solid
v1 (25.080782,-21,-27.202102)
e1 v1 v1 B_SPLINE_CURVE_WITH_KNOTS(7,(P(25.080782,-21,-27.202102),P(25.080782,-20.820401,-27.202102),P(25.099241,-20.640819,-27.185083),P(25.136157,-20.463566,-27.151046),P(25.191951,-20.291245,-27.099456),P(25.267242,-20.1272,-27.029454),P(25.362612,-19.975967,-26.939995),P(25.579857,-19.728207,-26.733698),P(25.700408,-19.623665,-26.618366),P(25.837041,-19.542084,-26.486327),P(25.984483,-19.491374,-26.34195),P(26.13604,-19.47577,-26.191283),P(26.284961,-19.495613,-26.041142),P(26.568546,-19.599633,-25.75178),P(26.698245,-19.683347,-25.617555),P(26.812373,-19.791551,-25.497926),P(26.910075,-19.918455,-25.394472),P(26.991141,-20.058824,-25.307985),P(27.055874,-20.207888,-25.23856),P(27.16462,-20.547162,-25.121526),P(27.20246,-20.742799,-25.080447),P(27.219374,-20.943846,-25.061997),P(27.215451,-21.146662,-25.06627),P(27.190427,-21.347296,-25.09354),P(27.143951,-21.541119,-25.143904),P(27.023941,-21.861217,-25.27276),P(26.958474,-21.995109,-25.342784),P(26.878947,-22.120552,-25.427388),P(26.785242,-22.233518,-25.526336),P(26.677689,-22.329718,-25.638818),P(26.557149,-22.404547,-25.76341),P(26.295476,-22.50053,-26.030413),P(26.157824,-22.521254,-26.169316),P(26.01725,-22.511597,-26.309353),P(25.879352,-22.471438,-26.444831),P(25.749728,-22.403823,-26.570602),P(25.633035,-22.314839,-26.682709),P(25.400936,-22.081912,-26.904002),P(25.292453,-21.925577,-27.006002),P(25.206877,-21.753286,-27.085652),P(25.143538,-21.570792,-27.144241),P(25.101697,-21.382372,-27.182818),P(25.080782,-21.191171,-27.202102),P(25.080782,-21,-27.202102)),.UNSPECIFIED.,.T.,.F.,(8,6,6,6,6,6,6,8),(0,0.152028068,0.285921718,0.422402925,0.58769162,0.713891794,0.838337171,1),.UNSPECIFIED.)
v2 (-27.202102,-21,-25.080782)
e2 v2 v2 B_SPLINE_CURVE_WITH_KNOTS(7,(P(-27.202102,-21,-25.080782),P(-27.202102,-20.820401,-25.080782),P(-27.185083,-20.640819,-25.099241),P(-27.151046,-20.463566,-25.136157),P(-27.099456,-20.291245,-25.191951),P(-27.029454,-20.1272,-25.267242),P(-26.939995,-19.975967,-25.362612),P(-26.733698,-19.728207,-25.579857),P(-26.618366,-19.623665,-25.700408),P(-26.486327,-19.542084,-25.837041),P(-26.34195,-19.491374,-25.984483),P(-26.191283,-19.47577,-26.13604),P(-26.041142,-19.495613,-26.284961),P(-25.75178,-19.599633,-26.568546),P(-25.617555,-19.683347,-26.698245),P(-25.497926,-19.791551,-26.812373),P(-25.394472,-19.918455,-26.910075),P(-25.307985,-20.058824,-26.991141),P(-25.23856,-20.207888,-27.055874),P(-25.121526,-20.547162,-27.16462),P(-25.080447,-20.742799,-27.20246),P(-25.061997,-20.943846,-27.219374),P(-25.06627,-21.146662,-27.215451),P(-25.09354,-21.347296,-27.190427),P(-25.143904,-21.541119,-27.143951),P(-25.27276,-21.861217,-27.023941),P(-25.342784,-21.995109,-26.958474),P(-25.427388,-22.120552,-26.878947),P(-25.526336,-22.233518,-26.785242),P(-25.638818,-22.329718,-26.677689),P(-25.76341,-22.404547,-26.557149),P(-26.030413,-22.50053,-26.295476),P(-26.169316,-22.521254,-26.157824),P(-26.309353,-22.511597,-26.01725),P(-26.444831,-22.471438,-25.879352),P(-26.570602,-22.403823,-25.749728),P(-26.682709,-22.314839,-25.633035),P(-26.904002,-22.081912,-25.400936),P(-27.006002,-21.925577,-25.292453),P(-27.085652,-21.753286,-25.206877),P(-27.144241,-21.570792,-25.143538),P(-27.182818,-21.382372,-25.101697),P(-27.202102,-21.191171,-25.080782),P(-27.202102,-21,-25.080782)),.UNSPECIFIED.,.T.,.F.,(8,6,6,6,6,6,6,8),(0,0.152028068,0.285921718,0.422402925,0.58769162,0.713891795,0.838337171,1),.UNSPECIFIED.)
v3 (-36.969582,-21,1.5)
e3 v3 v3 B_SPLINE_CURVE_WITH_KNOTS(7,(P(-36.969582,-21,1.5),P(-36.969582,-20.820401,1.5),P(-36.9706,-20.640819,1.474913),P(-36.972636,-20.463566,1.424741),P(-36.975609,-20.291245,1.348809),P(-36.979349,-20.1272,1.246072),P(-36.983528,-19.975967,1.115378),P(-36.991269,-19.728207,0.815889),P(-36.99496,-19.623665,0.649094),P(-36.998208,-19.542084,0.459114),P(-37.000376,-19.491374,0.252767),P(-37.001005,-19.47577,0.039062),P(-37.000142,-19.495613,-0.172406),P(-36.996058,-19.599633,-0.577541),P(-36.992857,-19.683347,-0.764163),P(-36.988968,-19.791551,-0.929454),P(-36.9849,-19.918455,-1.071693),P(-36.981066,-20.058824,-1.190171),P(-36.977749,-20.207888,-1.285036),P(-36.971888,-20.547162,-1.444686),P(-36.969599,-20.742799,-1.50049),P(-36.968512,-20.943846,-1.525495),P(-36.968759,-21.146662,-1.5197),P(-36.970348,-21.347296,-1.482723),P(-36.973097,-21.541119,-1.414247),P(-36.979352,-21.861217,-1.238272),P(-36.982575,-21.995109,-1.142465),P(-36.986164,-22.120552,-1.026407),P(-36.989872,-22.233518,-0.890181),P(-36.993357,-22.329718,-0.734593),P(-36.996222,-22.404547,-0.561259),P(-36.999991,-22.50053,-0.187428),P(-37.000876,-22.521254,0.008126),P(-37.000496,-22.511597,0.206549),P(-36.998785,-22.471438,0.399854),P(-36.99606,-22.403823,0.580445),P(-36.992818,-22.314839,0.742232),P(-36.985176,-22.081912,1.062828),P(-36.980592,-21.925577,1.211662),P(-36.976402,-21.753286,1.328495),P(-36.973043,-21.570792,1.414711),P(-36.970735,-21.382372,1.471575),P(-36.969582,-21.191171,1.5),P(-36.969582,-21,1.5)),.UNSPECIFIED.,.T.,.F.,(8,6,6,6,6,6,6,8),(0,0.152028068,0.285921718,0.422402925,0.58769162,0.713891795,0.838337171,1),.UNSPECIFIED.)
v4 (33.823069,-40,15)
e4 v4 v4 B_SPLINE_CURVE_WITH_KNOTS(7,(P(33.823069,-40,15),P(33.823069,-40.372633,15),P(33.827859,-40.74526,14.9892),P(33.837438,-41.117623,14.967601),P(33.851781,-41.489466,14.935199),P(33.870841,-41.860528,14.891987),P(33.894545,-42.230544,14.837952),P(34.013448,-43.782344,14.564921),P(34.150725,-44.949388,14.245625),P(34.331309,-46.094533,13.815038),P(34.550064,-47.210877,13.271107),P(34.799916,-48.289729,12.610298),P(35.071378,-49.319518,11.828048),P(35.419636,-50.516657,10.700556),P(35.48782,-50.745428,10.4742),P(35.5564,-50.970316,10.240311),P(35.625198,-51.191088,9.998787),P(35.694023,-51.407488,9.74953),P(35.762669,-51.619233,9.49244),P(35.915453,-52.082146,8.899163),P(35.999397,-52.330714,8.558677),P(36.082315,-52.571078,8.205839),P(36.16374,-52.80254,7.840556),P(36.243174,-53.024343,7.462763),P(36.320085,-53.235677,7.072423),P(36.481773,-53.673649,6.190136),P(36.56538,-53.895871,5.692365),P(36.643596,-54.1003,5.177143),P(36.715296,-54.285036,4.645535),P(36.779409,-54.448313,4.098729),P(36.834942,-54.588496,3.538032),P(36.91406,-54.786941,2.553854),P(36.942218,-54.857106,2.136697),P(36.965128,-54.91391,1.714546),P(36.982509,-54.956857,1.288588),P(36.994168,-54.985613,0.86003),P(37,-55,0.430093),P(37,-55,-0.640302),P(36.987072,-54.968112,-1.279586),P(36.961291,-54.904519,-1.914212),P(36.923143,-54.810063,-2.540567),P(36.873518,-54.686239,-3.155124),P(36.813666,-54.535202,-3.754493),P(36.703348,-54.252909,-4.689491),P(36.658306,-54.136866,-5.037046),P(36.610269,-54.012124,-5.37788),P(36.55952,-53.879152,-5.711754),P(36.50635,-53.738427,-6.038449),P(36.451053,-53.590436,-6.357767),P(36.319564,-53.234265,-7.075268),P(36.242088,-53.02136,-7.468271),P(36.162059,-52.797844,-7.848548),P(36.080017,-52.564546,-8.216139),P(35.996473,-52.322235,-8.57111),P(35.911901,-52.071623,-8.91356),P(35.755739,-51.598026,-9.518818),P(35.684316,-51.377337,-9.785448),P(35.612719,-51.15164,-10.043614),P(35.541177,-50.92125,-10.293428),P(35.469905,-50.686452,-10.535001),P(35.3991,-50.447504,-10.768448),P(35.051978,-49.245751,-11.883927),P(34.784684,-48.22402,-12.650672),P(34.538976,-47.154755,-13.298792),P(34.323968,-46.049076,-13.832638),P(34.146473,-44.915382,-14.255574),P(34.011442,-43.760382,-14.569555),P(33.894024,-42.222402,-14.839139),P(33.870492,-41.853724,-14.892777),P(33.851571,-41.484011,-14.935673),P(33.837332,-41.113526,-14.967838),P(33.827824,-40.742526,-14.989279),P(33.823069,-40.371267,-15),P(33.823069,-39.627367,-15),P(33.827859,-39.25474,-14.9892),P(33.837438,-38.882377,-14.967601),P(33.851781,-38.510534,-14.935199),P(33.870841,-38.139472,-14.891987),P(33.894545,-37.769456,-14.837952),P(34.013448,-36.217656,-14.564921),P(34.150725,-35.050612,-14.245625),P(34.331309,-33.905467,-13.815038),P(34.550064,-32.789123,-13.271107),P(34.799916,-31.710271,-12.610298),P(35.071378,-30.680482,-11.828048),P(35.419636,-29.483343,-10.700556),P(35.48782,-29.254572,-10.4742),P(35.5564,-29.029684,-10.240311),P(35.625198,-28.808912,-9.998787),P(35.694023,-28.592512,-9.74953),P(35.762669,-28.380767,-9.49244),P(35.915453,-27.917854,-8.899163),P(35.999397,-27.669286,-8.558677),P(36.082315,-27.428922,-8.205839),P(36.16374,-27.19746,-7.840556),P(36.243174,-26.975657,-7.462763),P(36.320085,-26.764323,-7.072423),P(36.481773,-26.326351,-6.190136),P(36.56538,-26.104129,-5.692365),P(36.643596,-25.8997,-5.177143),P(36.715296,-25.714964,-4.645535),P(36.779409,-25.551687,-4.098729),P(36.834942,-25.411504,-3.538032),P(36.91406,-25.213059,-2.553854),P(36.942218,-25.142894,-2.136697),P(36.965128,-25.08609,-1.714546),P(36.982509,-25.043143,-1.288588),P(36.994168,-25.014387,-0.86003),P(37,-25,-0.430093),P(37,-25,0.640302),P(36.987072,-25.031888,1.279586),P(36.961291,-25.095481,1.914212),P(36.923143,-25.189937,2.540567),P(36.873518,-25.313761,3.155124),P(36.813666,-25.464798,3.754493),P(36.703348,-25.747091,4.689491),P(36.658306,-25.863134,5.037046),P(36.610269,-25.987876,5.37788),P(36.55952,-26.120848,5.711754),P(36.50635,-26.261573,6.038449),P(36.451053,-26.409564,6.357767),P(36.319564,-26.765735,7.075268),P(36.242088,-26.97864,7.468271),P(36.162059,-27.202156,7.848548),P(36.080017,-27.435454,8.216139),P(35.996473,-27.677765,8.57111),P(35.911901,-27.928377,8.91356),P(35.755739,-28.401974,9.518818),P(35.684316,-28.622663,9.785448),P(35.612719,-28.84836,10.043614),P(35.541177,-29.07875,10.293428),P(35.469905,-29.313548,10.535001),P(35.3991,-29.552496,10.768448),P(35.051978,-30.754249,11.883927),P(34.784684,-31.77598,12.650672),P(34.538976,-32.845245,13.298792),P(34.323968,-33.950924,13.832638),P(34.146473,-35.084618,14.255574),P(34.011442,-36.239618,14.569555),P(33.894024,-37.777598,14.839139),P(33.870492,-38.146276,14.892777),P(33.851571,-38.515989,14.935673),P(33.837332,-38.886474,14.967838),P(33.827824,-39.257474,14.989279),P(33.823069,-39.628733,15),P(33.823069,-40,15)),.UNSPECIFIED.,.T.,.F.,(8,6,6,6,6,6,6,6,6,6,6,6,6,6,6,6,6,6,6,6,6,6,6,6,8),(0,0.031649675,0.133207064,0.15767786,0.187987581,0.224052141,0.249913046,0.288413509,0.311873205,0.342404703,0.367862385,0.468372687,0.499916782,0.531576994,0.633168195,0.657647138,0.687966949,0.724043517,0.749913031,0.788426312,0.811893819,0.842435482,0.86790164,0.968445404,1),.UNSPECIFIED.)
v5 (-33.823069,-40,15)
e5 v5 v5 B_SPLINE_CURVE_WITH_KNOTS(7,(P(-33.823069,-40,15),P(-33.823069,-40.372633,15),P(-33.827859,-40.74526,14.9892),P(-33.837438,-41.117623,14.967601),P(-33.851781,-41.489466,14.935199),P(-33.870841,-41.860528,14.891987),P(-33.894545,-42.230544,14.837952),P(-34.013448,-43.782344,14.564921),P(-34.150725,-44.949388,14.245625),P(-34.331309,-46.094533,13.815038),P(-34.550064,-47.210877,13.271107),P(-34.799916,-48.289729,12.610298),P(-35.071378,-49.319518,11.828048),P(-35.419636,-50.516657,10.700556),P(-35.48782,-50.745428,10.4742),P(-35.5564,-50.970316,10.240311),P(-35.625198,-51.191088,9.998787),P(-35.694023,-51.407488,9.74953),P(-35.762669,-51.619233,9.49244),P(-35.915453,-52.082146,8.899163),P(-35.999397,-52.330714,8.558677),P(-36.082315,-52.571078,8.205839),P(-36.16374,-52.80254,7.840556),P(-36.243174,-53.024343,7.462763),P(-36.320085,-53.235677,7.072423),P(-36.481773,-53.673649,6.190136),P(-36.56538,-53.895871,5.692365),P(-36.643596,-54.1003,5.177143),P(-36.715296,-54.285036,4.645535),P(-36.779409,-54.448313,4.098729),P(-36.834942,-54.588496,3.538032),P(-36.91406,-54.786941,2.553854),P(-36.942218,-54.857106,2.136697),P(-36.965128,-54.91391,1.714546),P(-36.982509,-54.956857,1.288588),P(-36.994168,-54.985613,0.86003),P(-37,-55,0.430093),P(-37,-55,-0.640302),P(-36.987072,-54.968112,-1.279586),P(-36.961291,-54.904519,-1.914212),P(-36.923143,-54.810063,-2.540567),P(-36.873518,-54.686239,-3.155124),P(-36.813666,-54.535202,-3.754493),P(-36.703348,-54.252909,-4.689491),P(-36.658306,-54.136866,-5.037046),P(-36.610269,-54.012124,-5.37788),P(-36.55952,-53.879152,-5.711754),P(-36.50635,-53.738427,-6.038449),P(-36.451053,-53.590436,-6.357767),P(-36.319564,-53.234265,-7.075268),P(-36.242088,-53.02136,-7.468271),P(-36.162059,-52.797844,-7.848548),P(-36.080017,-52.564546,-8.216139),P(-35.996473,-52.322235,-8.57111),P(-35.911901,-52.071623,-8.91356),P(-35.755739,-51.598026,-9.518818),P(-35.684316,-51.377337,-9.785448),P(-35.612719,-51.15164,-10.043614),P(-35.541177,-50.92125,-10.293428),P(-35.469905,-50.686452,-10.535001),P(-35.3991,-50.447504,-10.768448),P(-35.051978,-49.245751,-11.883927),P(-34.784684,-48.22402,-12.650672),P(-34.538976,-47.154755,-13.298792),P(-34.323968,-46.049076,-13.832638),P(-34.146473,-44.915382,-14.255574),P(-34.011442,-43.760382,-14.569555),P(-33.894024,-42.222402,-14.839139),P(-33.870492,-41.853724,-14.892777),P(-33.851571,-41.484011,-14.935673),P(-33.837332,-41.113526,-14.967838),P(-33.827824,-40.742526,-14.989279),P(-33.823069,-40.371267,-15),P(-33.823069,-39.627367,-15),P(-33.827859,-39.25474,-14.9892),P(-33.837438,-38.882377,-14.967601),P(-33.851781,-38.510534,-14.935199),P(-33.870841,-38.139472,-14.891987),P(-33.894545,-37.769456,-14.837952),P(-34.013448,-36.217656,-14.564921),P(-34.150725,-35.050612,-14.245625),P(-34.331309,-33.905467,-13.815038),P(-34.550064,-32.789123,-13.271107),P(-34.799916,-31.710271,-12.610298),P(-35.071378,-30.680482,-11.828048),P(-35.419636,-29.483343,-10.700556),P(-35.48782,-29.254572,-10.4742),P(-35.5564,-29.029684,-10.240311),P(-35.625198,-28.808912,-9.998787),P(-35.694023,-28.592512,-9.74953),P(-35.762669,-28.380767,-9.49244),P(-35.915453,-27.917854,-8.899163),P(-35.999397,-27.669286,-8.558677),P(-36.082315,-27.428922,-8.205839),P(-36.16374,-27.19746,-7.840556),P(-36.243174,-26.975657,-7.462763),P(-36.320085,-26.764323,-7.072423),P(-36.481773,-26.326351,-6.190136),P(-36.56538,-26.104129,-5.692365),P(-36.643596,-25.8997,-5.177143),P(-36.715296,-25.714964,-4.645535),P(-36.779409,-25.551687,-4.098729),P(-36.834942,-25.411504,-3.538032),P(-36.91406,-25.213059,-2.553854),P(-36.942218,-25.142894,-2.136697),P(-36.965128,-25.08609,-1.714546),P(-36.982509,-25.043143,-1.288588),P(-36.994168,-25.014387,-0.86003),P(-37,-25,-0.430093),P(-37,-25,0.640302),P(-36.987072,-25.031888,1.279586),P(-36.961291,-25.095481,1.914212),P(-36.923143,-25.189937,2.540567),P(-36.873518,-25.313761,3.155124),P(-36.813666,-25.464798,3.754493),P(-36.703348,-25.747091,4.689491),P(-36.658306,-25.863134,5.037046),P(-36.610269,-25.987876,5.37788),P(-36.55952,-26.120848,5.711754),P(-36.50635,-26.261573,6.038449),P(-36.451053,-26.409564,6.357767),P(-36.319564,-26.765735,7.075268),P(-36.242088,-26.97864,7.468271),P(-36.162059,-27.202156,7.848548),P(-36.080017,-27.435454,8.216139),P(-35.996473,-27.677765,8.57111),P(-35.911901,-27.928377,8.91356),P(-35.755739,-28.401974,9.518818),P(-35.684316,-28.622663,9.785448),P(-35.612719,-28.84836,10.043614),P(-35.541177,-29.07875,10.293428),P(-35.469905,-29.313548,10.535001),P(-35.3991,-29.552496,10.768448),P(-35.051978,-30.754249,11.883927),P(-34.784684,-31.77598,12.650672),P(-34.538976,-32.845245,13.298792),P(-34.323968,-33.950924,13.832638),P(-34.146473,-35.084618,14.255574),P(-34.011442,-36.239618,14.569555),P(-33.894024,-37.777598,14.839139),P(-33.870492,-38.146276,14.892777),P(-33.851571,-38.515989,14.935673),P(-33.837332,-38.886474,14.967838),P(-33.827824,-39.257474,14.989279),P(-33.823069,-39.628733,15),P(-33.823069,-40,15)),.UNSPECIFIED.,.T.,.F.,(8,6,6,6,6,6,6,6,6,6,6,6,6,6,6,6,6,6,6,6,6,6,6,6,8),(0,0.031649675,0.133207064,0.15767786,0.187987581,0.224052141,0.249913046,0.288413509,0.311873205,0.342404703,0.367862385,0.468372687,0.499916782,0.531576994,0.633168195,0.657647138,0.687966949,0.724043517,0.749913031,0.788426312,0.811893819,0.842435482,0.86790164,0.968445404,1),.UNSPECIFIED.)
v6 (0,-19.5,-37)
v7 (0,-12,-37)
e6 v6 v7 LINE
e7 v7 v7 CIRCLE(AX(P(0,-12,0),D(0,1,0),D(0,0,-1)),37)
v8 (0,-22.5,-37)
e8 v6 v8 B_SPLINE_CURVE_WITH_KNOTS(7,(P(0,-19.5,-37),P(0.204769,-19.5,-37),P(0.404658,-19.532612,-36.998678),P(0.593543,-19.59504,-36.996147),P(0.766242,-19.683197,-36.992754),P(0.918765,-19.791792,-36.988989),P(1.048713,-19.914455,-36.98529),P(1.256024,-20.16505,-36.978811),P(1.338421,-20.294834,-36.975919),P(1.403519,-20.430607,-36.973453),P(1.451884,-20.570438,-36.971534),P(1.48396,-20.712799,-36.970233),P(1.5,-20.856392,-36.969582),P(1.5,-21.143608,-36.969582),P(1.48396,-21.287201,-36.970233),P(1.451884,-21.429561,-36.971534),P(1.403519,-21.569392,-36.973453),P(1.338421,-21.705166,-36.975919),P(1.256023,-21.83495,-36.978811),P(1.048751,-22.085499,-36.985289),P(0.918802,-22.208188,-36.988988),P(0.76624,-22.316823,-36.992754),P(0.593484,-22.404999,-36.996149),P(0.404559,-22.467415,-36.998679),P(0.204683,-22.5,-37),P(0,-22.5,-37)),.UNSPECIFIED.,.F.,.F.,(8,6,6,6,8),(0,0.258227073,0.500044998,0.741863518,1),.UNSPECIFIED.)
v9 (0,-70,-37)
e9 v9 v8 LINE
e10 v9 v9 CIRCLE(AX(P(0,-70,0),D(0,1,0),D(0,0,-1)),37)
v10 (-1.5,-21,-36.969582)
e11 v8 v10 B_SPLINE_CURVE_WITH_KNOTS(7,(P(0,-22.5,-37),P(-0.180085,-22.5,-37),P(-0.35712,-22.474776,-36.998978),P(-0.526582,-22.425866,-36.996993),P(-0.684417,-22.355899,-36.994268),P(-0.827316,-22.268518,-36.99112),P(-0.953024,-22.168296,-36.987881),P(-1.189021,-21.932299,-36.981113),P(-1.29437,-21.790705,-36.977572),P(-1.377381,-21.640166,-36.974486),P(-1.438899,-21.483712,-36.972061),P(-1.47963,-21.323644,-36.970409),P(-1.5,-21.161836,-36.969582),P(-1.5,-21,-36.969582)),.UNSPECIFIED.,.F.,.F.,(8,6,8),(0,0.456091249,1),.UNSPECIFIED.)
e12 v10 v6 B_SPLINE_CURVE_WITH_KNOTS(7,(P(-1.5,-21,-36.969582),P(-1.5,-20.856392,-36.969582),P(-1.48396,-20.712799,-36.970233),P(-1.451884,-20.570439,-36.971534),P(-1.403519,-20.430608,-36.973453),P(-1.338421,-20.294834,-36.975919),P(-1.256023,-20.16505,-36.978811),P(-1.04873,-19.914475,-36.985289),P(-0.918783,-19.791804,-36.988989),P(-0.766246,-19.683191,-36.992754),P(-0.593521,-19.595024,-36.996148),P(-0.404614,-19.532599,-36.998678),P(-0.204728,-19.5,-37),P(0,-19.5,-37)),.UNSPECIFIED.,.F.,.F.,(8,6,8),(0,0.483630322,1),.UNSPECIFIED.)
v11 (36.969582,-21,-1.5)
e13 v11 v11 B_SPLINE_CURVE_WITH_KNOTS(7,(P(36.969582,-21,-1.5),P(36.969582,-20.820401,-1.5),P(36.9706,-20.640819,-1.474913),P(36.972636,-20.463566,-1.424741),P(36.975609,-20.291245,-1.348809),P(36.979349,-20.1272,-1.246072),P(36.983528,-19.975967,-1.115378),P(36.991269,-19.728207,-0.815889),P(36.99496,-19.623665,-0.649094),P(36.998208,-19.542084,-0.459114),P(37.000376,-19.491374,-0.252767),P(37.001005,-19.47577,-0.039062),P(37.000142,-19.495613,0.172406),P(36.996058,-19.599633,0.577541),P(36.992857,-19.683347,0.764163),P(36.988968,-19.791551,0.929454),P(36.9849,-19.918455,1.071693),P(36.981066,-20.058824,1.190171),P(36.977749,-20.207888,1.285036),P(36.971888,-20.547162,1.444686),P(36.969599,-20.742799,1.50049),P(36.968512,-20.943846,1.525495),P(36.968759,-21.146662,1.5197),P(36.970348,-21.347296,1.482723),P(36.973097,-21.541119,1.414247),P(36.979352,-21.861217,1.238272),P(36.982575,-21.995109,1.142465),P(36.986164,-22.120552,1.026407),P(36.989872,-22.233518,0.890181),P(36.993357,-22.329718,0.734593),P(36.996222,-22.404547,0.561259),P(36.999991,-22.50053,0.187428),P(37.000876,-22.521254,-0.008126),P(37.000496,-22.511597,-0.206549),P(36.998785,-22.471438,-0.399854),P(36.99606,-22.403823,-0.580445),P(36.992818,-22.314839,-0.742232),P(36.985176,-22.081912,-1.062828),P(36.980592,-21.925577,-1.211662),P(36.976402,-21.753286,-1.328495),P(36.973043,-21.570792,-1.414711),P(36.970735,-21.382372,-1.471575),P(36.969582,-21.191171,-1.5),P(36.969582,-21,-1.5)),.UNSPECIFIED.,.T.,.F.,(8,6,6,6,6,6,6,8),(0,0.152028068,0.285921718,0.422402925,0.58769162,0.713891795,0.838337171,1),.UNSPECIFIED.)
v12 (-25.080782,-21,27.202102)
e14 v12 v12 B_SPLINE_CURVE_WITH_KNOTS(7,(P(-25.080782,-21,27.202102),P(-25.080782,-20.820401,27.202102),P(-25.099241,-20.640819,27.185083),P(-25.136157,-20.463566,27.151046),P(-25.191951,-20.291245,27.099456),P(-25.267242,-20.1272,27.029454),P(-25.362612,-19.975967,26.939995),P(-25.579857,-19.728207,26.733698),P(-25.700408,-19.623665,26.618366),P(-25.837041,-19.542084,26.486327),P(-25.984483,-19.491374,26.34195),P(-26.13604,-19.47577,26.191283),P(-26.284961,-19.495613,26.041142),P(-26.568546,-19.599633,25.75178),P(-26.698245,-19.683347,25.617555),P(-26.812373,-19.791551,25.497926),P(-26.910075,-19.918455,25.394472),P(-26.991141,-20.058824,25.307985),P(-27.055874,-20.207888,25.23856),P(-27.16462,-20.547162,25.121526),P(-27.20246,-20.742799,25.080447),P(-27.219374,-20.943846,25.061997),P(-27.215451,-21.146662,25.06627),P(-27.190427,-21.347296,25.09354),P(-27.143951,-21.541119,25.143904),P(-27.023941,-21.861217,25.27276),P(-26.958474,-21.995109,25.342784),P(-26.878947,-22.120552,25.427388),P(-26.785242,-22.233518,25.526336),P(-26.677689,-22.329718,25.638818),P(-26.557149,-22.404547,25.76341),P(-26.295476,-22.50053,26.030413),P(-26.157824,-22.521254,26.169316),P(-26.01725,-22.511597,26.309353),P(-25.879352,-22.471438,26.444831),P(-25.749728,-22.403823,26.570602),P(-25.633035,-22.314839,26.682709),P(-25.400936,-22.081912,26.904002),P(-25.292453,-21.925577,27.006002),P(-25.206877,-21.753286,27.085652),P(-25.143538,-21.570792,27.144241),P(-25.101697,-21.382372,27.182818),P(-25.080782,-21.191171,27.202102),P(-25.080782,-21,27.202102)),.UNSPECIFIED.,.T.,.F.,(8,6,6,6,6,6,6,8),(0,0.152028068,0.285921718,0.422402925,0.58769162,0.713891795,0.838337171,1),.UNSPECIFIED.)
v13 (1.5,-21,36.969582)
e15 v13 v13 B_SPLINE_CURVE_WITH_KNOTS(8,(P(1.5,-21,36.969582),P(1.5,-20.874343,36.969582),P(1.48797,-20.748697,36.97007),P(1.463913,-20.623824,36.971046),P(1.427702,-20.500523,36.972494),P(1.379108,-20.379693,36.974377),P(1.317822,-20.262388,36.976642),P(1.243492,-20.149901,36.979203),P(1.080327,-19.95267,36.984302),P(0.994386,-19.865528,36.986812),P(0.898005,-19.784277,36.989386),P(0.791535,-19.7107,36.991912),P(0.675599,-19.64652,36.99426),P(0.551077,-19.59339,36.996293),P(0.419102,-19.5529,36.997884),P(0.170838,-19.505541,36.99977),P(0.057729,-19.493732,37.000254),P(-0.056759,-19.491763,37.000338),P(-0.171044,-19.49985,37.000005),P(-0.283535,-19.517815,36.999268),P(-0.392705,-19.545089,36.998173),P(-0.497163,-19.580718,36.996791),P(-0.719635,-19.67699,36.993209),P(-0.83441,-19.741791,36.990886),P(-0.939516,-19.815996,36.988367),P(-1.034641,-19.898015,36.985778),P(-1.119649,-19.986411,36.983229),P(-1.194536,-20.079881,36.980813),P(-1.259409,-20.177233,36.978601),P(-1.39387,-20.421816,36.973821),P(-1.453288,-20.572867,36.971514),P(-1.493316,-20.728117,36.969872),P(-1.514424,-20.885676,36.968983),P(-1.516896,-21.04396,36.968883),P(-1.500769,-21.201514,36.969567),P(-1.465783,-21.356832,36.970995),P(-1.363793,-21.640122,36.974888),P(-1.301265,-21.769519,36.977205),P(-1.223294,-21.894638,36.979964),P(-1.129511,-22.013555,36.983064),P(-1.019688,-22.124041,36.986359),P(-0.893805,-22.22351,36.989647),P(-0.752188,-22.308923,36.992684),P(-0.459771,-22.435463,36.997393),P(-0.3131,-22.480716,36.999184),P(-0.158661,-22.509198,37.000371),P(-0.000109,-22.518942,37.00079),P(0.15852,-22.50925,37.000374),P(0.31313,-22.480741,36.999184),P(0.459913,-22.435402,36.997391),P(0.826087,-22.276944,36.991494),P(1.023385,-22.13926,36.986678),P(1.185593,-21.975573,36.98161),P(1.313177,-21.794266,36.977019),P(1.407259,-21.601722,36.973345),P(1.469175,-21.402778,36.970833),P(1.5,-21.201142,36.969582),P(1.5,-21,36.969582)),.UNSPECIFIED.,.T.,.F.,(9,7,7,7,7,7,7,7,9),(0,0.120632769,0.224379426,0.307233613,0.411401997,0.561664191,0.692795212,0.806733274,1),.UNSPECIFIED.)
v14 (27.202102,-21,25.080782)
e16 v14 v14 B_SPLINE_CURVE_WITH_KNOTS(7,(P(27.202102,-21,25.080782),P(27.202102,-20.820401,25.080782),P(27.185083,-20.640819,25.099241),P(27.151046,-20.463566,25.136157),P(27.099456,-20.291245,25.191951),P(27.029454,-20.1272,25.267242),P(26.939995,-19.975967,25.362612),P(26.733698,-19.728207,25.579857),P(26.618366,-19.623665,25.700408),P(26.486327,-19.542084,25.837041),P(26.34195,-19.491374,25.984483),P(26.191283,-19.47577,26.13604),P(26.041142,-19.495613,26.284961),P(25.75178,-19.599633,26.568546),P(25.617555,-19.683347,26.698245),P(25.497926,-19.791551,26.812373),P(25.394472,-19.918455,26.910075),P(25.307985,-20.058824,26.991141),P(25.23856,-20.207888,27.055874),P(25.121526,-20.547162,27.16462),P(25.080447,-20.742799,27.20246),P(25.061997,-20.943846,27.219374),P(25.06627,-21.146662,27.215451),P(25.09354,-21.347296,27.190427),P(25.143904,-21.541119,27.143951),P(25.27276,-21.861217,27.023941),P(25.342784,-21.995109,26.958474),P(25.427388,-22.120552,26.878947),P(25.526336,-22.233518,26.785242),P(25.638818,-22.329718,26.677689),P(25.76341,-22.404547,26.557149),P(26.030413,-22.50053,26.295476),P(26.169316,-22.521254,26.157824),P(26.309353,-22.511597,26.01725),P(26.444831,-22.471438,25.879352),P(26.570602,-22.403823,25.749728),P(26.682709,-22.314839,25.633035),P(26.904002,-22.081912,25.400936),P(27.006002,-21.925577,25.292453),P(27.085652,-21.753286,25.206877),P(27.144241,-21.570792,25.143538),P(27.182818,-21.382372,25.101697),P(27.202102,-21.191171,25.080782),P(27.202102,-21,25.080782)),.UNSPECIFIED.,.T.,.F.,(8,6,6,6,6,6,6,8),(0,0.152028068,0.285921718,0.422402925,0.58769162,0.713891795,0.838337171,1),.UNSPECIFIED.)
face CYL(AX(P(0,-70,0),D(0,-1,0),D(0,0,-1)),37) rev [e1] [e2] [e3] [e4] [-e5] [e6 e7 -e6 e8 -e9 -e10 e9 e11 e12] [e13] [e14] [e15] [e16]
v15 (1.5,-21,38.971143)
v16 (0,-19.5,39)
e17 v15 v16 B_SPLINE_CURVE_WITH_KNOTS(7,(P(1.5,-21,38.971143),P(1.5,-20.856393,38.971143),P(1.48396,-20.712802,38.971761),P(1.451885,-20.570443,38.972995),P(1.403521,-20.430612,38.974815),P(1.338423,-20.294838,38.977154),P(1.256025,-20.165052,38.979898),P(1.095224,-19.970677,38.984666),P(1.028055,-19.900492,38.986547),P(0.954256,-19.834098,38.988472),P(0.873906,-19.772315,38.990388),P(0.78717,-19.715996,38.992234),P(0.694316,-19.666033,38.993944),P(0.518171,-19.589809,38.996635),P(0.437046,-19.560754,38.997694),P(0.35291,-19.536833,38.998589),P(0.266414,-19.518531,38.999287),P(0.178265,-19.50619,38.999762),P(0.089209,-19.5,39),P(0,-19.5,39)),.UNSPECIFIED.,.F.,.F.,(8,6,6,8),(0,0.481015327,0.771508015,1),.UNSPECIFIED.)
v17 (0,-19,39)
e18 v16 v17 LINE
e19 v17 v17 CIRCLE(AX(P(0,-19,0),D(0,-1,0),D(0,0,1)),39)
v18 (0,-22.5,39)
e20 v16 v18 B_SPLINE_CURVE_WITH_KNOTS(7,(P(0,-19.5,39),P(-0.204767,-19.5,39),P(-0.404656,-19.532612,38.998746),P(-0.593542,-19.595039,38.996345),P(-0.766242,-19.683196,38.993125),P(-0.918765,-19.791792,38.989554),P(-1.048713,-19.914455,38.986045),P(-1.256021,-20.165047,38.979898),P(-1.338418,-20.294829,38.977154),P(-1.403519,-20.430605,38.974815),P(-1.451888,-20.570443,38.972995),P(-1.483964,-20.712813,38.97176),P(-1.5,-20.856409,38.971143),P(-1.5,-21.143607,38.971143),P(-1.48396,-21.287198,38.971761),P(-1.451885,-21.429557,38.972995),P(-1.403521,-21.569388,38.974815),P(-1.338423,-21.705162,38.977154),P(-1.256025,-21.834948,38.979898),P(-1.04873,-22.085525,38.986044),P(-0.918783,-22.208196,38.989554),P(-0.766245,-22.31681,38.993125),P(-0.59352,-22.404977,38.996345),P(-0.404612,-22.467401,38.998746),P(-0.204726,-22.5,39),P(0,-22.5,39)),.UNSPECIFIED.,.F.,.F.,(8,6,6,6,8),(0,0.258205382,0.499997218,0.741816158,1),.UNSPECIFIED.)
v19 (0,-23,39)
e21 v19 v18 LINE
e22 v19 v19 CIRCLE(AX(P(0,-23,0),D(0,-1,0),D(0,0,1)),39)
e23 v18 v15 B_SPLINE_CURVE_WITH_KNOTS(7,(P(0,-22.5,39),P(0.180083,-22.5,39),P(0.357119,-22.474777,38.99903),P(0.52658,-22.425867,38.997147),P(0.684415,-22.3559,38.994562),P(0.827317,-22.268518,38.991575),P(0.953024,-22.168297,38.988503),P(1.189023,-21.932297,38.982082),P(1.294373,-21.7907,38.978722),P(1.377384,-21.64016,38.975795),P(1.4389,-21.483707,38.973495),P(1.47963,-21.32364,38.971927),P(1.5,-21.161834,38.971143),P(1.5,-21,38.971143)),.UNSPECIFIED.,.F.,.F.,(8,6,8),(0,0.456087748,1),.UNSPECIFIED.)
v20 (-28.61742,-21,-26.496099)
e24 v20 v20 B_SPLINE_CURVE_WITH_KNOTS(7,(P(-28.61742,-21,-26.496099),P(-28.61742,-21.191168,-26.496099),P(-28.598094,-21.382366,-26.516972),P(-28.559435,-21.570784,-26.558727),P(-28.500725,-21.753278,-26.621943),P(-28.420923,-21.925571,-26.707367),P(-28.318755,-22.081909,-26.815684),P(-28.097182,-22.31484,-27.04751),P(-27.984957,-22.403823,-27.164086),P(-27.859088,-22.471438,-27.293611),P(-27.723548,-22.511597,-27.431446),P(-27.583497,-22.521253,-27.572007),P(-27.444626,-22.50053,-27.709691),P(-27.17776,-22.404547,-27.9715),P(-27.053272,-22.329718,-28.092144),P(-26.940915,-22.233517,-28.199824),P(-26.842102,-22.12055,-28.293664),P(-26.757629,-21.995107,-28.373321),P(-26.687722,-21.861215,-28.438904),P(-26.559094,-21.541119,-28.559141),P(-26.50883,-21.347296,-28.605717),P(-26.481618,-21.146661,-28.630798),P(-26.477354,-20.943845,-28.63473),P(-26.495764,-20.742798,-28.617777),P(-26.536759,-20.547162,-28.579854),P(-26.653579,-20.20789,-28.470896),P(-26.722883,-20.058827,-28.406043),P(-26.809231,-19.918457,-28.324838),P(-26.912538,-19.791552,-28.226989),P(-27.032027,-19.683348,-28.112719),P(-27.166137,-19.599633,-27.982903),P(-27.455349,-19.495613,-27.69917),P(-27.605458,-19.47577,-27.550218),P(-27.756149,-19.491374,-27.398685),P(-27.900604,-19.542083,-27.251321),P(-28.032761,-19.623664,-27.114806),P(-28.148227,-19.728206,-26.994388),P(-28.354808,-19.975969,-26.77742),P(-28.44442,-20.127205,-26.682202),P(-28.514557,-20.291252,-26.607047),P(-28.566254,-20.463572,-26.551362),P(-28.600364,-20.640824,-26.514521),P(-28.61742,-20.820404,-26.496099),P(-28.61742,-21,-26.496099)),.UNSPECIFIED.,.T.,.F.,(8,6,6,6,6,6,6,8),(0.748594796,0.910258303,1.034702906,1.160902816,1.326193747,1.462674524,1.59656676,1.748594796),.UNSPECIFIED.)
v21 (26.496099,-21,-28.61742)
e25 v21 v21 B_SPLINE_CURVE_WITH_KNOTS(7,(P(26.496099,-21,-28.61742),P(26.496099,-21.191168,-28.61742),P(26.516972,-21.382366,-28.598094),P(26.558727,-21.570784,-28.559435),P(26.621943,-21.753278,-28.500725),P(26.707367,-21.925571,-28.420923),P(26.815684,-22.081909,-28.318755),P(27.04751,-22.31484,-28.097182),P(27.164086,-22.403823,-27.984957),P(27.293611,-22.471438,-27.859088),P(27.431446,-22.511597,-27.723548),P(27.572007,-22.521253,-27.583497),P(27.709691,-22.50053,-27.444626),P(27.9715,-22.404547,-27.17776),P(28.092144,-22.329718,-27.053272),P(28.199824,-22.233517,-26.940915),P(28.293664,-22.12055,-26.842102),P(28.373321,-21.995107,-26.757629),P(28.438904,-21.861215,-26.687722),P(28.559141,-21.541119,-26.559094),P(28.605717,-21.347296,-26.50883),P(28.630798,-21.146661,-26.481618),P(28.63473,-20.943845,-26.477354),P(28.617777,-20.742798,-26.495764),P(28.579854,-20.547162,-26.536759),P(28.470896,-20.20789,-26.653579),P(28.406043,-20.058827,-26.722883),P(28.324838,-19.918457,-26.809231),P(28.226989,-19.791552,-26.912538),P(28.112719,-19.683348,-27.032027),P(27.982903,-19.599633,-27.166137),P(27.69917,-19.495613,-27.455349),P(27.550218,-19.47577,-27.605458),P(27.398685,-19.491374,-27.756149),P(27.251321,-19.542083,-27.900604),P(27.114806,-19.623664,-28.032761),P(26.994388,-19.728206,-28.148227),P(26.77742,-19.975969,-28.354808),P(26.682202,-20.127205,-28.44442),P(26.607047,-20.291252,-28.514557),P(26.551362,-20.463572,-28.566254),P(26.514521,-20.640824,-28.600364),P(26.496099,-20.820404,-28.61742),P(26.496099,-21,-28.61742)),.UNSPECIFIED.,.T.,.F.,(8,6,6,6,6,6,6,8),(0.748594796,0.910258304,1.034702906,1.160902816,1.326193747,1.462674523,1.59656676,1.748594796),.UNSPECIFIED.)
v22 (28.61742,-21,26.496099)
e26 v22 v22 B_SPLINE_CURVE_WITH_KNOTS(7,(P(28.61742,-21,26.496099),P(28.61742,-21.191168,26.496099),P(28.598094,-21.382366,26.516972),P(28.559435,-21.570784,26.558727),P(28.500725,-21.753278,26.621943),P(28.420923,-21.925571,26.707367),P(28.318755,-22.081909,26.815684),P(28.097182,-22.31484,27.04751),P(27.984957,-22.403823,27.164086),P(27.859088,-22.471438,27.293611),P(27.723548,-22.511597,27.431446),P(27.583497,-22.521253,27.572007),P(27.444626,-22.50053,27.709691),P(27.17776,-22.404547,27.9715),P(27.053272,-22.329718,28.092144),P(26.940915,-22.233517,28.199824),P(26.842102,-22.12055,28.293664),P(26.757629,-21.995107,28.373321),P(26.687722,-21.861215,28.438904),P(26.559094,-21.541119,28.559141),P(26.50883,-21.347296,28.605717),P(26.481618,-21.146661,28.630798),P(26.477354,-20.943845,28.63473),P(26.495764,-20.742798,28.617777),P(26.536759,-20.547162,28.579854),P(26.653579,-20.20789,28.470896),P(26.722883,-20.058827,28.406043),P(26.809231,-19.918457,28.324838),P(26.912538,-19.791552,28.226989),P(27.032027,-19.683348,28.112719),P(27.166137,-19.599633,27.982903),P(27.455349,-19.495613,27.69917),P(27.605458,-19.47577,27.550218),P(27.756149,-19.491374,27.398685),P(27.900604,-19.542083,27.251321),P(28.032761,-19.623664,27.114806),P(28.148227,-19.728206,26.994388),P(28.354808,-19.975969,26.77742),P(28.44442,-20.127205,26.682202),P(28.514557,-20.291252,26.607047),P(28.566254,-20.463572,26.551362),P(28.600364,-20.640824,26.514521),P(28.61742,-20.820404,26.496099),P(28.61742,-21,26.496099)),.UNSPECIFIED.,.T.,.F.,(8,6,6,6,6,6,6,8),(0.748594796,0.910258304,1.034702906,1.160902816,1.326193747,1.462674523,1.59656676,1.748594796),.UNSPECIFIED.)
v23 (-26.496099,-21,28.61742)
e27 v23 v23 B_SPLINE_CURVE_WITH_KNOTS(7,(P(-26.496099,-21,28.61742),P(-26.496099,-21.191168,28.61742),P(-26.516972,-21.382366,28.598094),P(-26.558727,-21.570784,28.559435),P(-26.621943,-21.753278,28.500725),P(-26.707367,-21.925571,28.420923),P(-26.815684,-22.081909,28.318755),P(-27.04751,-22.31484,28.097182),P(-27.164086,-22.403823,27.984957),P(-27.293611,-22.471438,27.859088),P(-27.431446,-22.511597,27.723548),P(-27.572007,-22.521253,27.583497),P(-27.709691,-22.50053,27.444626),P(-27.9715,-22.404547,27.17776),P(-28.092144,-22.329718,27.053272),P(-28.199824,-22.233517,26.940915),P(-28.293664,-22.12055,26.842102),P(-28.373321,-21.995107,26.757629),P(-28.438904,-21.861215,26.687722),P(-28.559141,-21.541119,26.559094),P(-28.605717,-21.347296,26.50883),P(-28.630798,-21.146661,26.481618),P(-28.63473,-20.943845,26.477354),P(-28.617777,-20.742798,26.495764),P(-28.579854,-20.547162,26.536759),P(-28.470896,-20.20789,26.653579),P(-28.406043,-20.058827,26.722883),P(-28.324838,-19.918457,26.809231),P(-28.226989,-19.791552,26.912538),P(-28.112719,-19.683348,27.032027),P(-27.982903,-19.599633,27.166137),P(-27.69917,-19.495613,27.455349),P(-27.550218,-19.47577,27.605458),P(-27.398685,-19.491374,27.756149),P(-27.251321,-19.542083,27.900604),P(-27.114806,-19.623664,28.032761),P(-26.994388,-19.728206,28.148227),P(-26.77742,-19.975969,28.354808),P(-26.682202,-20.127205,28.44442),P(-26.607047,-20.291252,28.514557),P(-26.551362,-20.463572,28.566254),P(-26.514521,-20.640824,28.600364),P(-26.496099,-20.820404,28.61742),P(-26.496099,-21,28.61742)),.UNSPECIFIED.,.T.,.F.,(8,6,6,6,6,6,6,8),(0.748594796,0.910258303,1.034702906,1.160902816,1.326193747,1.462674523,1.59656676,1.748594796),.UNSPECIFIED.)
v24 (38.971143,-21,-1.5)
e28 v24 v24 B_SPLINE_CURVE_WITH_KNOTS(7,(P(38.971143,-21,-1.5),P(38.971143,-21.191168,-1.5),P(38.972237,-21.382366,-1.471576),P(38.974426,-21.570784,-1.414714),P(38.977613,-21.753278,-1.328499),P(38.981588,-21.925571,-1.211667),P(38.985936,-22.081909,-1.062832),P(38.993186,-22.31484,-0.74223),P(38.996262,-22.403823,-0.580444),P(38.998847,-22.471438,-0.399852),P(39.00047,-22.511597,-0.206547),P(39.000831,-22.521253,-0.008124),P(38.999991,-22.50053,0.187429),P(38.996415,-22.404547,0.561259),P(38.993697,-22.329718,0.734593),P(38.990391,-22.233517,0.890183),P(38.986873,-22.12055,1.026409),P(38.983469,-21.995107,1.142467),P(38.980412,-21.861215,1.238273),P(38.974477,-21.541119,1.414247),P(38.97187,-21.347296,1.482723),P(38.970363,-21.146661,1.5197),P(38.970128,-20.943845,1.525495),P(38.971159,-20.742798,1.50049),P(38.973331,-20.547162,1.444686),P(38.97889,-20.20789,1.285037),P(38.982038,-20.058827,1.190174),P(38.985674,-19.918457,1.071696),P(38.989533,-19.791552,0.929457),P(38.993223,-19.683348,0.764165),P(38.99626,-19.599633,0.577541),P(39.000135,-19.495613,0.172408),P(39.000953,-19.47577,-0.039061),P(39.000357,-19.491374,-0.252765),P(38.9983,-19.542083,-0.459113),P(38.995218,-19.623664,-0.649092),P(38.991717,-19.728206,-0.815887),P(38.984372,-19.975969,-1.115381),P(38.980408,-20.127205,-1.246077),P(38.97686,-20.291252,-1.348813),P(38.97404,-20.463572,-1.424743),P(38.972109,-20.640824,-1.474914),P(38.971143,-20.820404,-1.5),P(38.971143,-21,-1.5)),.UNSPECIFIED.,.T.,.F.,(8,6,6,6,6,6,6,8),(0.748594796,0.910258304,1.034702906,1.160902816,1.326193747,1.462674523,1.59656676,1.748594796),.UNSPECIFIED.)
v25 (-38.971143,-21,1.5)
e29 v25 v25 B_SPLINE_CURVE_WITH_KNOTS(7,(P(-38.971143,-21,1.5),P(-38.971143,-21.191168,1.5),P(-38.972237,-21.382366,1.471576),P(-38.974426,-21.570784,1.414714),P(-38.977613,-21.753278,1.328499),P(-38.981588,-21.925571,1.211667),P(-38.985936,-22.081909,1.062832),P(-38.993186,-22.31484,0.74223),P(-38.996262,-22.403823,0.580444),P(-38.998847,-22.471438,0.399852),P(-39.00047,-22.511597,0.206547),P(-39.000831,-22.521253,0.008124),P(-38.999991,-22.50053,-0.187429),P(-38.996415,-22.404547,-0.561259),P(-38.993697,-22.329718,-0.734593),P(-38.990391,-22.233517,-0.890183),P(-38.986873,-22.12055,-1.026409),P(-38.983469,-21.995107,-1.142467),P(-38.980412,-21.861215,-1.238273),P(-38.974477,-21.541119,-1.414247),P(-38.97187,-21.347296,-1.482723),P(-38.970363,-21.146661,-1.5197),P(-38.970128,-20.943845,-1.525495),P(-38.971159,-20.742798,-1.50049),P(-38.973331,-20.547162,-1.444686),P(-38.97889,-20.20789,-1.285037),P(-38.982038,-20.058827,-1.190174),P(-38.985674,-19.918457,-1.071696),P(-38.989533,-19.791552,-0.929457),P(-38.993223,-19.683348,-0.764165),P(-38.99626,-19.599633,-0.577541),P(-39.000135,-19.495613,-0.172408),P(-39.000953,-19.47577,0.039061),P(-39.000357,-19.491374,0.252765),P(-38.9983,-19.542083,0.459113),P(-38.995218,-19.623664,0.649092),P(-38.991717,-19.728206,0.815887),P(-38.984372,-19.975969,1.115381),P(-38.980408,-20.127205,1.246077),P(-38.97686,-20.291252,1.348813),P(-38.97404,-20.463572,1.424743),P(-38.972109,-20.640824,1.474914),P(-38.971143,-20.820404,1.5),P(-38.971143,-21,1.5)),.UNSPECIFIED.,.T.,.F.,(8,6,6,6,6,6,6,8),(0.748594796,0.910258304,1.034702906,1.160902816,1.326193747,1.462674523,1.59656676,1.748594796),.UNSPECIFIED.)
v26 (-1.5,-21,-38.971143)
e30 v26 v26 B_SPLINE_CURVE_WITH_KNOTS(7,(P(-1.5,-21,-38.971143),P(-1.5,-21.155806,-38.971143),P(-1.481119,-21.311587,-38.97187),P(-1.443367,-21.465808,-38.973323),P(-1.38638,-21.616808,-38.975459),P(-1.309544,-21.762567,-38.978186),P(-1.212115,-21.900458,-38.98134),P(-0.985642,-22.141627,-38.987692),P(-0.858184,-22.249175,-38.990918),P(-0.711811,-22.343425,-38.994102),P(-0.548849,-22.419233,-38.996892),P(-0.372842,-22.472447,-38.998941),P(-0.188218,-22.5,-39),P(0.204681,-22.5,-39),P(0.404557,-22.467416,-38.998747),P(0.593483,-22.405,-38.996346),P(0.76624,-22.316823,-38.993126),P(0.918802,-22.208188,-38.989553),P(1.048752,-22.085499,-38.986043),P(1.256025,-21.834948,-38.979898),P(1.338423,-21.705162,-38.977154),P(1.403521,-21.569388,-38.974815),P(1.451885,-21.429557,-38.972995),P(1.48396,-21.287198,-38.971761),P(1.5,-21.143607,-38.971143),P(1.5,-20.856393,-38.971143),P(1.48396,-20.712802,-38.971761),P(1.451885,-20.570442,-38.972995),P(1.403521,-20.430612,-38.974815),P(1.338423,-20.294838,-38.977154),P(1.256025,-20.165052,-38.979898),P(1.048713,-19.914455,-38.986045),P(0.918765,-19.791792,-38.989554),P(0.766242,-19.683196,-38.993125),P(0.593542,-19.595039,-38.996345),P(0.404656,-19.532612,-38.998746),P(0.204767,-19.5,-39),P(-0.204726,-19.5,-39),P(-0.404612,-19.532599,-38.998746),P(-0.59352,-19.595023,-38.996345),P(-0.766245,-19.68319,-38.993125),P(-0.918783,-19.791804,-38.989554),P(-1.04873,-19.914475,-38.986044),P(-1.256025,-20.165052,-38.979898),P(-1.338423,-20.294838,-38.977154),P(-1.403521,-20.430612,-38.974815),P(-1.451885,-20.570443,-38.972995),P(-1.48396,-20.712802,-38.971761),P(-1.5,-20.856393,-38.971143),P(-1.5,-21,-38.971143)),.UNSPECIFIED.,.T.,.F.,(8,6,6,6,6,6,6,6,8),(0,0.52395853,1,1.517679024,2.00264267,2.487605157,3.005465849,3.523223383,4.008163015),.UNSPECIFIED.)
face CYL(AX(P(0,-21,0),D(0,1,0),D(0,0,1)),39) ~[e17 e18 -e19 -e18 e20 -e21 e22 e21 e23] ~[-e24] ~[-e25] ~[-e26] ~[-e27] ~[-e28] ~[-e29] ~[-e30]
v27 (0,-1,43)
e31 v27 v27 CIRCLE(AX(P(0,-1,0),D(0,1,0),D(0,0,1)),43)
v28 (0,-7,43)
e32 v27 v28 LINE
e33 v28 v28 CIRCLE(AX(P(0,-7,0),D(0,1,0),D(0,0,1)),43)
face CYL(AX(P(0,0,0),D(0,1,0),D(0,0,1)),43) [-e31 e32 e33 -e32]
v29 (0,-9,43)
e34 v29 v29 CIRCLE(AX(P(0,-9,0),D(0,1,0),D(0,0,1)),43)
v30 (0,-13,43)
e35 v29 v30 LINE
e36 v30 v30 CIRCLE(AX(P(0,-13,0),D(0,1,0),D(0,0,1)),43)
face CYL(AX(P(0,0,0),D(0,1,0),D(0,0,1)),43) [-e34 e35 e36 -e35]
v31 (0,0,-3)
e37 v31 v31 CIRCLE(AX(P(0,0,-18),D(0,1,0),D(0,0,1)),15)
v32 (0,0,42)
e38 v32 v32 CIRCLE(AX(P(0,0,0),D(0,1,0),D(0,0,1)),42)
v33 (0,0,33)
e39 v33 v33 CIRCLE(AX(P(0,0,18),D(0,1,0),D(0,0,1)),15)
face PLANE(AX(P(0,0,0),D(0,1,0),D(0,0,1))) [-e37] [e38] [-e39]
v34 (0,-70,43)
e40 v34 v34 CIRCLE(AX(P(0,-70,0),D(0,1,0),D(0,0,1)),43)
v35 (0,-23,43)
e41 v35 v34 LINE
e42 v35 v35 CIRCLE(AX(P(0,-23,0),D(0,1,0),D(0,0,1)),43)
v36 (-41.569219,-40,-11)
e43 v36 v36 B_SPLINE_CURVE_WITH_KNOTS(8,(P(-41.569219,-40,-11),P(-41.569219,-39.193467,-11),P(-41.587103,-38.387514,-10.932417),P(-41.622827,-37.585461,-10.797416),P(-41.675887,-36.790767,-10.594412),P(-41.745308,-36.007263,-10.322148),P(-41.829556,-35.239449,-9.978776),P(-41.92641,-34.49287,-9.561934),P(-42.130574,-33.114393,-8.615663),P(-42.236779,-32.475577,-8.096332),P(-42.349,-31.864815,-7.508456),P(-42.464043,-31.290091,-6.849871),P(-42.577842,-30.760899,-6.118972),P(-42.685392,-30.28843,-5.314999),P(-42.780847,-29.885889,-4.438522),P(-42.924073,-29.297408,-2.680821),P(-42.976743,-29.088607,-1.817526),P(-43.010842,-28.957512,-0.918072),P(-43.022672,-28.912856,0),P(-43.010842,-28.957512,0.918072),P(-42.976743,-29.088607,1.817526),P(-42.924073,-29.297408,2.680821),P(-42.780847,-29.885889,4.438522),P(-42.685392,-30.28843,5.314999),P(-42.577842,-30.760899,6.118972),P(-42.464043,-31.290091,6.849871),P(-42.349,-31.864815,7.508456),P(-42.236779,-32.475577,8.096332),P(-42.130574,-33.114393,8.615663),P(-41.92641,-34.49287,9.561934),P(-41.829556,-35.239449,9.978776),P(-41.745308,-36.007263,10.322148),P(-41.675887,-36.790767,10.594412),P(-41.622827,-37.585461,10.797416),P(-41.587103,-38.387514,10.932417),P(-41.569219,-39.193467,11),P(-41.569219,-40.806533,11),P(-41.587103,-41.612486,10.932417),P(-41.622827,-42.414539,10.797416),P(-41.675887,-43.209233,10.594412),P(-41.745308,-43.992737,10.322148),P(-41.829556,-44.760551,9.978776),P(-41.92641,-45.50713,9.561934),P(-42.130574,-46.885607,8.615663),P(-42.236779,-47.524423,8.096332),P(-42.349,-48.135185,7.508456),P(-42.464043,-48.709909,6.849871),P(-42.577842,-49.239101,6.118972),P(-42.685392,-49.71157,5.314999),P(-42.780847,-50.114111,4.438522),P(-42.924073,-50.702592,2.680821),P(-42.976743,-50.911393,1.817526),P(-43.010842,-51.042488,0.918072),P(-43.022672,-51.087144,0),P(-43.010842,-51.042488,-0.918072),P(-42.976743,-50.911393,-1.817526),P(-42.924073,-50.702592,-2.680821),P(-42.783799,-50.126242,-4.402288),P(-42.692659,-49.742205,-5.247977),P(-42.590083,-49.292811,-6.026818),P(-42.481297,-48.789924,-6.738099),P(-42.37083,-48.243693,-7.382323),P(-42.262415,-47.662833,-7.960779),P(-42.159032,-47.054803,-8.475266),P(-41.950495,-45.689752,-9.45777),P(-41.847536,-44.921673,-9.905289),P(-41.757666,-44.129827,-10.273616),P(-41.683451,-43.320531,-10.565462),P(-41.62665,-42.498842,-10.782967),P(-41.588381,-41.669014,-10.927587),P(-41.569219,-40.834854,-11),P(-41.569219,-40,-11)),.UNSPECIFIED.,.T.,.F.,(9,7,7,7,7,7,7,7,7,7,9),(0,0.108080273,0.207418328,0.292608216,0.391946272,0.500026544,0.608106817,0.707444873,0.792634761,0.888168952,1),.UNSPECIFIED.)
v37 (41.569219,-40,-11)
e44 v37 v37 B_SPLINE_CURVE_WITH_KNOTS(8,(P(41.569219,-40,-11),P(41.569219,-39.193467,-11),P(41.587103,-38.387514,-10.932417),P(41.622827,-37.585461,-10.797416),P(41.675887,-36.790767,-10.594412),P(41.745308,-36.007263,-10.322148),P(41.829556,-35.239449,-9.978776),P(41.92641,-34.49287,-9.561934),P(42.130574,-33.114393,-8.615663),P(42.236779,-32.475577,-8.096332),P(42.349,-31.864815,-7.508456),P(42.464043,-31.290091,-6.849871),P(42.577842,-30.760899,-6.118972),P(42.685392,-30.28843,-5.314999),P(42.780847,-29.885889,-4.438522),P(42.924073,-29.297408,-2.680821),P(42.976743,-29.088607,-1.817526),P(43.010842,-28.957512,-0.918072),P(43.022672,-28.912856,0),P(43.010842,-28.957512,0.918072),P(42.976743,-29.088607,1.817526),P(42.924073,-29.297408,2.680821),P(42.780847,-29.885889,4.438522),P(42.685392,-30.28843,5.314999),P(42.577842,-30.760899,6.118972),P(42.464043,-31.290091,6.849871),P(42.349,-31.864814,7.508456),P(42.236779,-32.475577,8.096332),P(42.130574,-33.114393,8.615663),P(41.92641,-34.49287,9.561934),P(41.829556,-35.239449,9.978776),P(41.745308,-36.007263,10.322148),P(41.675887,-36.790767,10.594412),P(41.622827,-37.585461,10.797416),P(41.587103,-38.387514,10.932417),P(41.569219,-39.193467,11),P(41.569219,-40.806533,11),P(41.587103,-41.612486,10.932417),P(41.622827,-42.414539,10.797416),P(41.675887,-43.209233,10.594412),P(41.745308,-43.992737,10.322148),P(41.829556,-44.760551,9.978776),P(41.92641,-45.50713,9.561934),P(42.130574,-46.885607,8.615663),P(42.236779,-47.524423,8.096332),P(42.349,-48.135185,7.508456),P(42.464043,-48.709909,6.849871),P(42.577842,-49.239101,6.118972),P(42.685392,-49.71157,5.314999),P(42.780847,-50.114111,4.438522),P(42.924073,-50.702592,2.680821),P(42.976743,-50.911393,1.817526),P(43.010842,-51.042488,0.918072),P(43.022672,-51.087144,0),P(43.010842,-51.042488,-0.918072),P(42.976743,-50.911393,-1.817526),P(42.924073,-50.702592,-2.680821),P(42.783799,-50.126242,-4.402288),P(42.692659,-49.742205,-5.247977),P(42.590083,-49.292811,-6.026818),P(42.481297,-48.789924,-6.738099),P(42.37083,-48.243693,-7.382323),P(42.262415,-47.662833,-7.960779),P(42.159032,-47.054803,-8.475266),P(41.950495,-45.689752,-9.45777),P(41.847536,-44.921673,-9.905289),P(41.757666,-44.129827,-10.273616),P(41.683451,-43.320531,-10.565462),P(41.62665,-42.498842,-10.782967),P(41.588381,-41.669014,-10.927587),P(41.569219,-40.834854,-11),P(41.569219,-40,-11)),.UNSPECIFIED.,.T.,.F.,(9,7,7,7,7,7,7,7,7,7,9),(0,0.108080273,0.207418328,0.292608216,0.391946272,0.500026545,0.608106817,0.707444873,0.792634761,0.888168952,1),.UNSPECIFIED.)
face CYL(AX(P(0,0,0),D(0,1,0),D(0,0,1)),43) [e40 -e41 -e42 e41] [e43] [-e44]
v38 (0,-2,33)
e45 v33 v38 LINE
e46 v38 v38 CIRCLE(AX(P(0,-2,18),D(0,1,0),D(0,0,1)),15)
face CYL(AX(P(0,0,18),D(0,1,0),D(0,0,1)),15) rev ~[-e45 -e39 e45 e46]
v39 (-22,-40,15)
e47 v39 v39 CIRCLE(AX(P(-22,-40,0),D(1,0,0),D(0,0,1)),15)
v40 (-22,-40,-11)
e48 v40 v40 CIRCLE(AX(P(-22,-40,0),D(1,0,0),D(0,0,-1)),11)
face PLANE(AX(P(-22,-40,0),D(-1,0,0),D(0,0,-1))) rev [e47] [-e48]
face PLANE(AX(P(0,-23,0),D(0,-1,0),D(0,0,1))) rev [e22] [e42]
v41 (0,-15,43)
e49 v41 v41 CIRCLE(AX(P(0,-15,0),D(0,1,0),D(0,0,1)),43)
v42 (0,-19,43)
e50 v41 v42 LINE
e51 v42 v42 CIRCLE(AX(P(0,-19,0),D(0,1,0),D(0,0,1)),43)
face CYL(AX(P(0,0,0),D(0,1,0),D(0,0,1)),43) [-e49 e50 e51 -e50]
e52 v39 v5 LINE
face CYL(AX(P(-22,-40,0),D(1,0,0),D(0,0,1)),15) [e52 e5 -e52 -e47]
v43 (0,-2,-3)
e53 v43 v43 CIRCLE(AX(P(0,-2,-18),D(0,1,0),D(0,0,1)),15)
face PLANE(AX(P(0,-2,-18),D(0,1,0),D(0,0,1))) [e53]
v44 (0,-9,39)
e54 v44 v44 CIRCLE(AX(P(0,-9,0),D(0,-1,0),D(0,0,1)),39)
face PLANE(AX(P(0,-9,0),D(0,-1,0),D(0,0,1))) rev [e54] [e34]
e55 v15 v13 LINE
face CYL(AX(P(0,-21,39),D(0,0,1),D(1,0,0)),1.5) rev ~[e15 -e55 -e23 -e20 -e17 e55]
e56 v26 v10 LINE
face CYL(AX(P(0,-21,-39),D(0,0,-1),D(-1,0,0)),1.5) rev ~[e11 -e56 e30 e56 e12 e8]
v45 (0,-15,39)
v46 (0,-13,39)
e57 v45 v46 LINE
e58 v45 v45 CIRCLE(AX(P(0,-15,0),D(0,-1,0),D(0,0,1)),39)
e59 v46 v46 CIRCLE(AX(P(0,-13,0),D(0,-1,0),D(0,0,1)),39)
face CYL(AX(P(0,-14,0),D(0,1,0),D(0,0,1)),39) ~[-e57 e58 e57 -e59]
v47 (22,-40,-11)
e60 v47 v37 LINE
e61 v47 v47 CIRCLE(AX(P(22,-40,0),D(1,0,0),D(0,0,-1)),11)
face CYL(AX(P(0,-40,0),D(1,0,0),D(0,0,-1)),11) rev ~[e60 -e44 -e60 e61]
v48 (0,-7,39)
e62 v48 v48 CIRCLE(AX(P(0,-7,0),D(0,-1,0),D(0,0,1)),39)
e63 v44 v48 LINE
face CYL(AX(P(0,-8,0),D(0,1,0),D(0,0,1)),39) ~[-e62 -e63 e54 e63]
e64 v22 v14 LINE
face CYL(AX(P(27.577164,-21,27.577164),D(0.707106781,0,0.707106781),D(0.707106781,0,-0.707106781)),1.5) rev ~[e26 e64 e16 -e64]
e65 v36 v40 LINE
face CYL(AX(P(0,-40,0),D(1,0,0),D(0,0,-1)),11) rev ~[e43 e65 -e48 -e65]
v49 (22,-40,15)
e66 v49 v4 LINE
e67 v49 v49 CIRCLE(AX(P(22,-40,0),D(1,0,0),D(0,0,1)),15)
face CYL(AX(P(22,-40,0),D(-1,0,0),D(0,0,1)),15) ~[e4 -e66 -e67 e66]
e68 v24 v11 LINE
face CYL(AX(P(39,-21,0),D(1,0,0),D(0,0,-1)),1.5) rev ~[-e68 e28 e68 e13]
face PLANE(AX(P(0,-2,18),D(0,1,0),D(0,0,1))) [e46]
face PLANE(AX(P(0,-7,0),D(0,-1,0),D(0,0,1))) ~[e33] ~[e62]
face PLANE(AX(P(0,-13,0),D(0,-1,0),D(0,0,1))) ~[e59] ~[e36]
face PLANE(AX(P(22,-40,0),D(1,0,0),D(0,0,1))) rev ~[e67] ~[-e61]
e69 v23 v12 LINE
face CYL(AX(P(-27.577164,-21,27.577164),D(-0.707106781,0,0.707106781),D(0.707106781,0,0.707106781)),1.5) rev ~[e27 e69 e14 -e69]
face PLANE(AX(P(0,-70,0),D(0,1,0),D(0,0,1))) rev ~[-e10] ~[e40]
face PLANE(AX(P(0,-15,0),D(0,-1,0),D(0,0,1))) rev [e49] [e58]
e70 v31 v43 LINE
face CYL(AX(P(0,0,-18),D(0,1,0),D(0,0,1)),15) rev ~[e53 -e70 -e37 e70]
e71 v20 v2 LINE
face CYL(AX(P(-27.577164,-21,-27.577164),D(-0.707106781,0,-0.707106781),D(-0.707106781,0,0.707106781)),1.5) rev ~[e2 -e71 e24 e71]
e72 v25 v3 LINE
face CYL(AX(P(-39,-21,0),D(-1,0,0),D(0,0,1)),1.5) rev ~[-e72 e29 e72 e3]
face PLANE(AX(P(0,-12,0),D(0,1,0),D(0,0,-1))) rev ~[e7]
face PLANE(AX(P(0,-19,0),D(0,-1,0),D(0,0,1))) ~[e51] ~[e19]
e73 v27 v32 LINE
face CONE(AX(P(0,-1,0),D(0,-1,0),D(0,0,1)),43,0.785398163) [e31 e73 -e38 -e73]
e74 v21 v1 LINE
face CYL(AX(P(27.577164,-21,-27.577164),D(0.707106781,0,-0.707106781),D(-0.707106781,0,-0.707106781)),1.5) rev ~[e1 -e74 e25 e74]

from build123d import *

# Parameters (mm, degrees)
SKETCH_1_R               = 43
EXTRUDE_1_DEPTH          = 70
SKETCH_2_W               = 5
SKETCH_2_H               = 2
SKETCH_2_H_2             = 4
SKETCH_3_R               = 37
CUT_EXTRUDE_1_DEPTH      = 58
EXTRUDE_2_REACH          = 106.757
EXTRUDE_2_END_RADIUS     = 37
SKETCH_4_R               = 15
SKETCH_5_R               = 11
CUT_EXTRUDE_2_DEPTH      = 87
SKETCH_6_R               = 15
CUT_EXTRUDE_3_DEPTH      = 2
SKETCH_7_R               = 1.5
CUT_EXTRUDE_4_DEPTH      = 3.5
PATTERN_CIRCULAR_1_COUNT = 8
CHAMFER_1_SIZE           = 1


with BuildPart() as part:
    # 草图1 → 凸台-拉伸1 (new body)
    with BuildSketch(Plane(origin=(0, 0, 0), x_dir=(1, 0, 0), z_dir=(0, 1, 0))):
        with Locations(Location((0, 0, 0), (0, 0, 270))):
            Circle(SKETCH_1_R)
    extrude(amount=-EXTRUDE_1_DEPTH)

    # 草图2 → 切除-旋转1 (revolve, cut)
    with BuildSketch(Plane.XY, mode=Mode.PRIVATE) as cut_revolve_1_sk:
        with Locations((41.5, -8)):
            Rectangle(SKETCH_2_W, SKETCH_2_H)
        with Locations((41.5, -14)):
            Rectangle(SKETCH_2_W, SKETCH_2_H)
        with Locations((41.5, -21)):
            Rectangle(SKETCH_2_W, SKETCH_2_H_2)
    revolve(cut_revolve_1_sk.sketch.rotate(Axis((0, 0, 0), (0, -1, 0)), 90), axis=Axis((0, 0, 0), (0, -1, 0)), mode=Mode.SUBTRACT)

    # 草图3 → 切除-拉伸1 (cut)
    with BuildSketch(Plane(origin=(0, -70, 0), x_dir=(1, 0, 0), z_dir=(0, 1, 0))):
        with Locations(Location((0, 0, 0), (0, 0, 90))):
            Circle(SKETCH_3_R)
    extrude(amount=CUT_EXTRUDE_1_DEPTH, mode=Mode.SUBTRACT)

    # 凸台-拉伸2: up to this cylinder (the profile starts inside it)
    extrude_2_end = Plane(origin=(0, -40, 0), z_dir=(0, -1, 0)) * Cylinder(EXTRUDE_2_END_RADIUS, 288.514, mode=Mode.PRIVATE)
    # 草图4 → 凸台-拉伸2 (add, up to the surface)
    with BuildSketch(Plane(origin=(22, 0, 0), x_dir=(0, 0, -1), z_dir=(1, 0, 0)), mode=Mode.PRIVATE) as extrude_2_sk1:
        with Locations(Location((0, -40, 0), (0, 0, 180))):
            Circle(SKETCH_4_R)
    extrude_2_tool1 = extrude(extrude_2_sk1.sketch, amount=EXTRUDE_2_REACH, mode=Mode.PRIVATE) & extrude_2_end
    extrude_2 = extrude_2_tool1.solids().sort_by_distance((22, -40, 0))[0]
    add(extrude_2)

    # 镜向1: 凸台-拉伸2 across plane
    add(extrude_2.mirror(Plane(origin=(0, 0, 0), x_dir=(0, 0, 1), z_dir=(1, 0, 0))))

    # 草图5 → 切除-拉伸2 (cut, symmetric)
    with BuildSketch(Plane(origin=(0, 0, 0), x_dir=(0, 0, -1), z_dir=(1, 0, 0))):
        with Locations((0, -40)):
            Circle(SKETCH_5_R)
    extrude(amount=CUT_EXTRUDE_2_DEPTH, both=True, mode=Mode.SUBTRACT)

    # 草图6 → 切除-拉伸3 (cut)
    with BuildSketch(Plane(origin=(0, 0, 0), x_dir=(1, 0, 0), z_dir=(0, 1, 0))):
        with Locations(Location((0, -18, 0), (0, 0, 270))):
            Circle(SKETCH_6_R)
        with Locations(Location((0, 18, 0), (0, 0, 270))):
            Circle(SKETCH_6_R)
    extrude(amount=-CUT_EXTRUDE_3_DEPTH, mode=Mode.SUBTRACT)

    # 草图7 → 切除-拉伸4 (cut)
    with BuildSketch(Plane(origin=(39, 0, 0), x_dir=(0, 0, -1), z_dir=(1, 0, 0))):
        with Locations((0, -21)):
            Circle(SKETCH_7_R)
    cut_extrude_4 = extrude(amount=-CUT_EXTRUDE_4_DEPTH, mode=Mode.SUBTRACT)

    # 阵列(圆周)1: 切除-拉伸4 ×8 about axis
    pattern_circular_1_axis = Axis((0, -73.5, 0), (0, 1, 0))
    for i in range(1, PATTERN_CIRCULAR_1_COUNT):
        add(cut_extrude_4.rotate(pattern_circular_1_axis, i * 360 / PATTERN_CIRCULAR_1_COUNT), mode=Mode.SUBTRACT)

    # 倒角1
    chamfer_1_edges = [part.edges().sort_by_distance(p)[0] for p in [
        (0, 0, -43),
    ]]
    chamfer(chamfer_1_edges, length=CHAMFER_1_SIZE)


solid = part.part
